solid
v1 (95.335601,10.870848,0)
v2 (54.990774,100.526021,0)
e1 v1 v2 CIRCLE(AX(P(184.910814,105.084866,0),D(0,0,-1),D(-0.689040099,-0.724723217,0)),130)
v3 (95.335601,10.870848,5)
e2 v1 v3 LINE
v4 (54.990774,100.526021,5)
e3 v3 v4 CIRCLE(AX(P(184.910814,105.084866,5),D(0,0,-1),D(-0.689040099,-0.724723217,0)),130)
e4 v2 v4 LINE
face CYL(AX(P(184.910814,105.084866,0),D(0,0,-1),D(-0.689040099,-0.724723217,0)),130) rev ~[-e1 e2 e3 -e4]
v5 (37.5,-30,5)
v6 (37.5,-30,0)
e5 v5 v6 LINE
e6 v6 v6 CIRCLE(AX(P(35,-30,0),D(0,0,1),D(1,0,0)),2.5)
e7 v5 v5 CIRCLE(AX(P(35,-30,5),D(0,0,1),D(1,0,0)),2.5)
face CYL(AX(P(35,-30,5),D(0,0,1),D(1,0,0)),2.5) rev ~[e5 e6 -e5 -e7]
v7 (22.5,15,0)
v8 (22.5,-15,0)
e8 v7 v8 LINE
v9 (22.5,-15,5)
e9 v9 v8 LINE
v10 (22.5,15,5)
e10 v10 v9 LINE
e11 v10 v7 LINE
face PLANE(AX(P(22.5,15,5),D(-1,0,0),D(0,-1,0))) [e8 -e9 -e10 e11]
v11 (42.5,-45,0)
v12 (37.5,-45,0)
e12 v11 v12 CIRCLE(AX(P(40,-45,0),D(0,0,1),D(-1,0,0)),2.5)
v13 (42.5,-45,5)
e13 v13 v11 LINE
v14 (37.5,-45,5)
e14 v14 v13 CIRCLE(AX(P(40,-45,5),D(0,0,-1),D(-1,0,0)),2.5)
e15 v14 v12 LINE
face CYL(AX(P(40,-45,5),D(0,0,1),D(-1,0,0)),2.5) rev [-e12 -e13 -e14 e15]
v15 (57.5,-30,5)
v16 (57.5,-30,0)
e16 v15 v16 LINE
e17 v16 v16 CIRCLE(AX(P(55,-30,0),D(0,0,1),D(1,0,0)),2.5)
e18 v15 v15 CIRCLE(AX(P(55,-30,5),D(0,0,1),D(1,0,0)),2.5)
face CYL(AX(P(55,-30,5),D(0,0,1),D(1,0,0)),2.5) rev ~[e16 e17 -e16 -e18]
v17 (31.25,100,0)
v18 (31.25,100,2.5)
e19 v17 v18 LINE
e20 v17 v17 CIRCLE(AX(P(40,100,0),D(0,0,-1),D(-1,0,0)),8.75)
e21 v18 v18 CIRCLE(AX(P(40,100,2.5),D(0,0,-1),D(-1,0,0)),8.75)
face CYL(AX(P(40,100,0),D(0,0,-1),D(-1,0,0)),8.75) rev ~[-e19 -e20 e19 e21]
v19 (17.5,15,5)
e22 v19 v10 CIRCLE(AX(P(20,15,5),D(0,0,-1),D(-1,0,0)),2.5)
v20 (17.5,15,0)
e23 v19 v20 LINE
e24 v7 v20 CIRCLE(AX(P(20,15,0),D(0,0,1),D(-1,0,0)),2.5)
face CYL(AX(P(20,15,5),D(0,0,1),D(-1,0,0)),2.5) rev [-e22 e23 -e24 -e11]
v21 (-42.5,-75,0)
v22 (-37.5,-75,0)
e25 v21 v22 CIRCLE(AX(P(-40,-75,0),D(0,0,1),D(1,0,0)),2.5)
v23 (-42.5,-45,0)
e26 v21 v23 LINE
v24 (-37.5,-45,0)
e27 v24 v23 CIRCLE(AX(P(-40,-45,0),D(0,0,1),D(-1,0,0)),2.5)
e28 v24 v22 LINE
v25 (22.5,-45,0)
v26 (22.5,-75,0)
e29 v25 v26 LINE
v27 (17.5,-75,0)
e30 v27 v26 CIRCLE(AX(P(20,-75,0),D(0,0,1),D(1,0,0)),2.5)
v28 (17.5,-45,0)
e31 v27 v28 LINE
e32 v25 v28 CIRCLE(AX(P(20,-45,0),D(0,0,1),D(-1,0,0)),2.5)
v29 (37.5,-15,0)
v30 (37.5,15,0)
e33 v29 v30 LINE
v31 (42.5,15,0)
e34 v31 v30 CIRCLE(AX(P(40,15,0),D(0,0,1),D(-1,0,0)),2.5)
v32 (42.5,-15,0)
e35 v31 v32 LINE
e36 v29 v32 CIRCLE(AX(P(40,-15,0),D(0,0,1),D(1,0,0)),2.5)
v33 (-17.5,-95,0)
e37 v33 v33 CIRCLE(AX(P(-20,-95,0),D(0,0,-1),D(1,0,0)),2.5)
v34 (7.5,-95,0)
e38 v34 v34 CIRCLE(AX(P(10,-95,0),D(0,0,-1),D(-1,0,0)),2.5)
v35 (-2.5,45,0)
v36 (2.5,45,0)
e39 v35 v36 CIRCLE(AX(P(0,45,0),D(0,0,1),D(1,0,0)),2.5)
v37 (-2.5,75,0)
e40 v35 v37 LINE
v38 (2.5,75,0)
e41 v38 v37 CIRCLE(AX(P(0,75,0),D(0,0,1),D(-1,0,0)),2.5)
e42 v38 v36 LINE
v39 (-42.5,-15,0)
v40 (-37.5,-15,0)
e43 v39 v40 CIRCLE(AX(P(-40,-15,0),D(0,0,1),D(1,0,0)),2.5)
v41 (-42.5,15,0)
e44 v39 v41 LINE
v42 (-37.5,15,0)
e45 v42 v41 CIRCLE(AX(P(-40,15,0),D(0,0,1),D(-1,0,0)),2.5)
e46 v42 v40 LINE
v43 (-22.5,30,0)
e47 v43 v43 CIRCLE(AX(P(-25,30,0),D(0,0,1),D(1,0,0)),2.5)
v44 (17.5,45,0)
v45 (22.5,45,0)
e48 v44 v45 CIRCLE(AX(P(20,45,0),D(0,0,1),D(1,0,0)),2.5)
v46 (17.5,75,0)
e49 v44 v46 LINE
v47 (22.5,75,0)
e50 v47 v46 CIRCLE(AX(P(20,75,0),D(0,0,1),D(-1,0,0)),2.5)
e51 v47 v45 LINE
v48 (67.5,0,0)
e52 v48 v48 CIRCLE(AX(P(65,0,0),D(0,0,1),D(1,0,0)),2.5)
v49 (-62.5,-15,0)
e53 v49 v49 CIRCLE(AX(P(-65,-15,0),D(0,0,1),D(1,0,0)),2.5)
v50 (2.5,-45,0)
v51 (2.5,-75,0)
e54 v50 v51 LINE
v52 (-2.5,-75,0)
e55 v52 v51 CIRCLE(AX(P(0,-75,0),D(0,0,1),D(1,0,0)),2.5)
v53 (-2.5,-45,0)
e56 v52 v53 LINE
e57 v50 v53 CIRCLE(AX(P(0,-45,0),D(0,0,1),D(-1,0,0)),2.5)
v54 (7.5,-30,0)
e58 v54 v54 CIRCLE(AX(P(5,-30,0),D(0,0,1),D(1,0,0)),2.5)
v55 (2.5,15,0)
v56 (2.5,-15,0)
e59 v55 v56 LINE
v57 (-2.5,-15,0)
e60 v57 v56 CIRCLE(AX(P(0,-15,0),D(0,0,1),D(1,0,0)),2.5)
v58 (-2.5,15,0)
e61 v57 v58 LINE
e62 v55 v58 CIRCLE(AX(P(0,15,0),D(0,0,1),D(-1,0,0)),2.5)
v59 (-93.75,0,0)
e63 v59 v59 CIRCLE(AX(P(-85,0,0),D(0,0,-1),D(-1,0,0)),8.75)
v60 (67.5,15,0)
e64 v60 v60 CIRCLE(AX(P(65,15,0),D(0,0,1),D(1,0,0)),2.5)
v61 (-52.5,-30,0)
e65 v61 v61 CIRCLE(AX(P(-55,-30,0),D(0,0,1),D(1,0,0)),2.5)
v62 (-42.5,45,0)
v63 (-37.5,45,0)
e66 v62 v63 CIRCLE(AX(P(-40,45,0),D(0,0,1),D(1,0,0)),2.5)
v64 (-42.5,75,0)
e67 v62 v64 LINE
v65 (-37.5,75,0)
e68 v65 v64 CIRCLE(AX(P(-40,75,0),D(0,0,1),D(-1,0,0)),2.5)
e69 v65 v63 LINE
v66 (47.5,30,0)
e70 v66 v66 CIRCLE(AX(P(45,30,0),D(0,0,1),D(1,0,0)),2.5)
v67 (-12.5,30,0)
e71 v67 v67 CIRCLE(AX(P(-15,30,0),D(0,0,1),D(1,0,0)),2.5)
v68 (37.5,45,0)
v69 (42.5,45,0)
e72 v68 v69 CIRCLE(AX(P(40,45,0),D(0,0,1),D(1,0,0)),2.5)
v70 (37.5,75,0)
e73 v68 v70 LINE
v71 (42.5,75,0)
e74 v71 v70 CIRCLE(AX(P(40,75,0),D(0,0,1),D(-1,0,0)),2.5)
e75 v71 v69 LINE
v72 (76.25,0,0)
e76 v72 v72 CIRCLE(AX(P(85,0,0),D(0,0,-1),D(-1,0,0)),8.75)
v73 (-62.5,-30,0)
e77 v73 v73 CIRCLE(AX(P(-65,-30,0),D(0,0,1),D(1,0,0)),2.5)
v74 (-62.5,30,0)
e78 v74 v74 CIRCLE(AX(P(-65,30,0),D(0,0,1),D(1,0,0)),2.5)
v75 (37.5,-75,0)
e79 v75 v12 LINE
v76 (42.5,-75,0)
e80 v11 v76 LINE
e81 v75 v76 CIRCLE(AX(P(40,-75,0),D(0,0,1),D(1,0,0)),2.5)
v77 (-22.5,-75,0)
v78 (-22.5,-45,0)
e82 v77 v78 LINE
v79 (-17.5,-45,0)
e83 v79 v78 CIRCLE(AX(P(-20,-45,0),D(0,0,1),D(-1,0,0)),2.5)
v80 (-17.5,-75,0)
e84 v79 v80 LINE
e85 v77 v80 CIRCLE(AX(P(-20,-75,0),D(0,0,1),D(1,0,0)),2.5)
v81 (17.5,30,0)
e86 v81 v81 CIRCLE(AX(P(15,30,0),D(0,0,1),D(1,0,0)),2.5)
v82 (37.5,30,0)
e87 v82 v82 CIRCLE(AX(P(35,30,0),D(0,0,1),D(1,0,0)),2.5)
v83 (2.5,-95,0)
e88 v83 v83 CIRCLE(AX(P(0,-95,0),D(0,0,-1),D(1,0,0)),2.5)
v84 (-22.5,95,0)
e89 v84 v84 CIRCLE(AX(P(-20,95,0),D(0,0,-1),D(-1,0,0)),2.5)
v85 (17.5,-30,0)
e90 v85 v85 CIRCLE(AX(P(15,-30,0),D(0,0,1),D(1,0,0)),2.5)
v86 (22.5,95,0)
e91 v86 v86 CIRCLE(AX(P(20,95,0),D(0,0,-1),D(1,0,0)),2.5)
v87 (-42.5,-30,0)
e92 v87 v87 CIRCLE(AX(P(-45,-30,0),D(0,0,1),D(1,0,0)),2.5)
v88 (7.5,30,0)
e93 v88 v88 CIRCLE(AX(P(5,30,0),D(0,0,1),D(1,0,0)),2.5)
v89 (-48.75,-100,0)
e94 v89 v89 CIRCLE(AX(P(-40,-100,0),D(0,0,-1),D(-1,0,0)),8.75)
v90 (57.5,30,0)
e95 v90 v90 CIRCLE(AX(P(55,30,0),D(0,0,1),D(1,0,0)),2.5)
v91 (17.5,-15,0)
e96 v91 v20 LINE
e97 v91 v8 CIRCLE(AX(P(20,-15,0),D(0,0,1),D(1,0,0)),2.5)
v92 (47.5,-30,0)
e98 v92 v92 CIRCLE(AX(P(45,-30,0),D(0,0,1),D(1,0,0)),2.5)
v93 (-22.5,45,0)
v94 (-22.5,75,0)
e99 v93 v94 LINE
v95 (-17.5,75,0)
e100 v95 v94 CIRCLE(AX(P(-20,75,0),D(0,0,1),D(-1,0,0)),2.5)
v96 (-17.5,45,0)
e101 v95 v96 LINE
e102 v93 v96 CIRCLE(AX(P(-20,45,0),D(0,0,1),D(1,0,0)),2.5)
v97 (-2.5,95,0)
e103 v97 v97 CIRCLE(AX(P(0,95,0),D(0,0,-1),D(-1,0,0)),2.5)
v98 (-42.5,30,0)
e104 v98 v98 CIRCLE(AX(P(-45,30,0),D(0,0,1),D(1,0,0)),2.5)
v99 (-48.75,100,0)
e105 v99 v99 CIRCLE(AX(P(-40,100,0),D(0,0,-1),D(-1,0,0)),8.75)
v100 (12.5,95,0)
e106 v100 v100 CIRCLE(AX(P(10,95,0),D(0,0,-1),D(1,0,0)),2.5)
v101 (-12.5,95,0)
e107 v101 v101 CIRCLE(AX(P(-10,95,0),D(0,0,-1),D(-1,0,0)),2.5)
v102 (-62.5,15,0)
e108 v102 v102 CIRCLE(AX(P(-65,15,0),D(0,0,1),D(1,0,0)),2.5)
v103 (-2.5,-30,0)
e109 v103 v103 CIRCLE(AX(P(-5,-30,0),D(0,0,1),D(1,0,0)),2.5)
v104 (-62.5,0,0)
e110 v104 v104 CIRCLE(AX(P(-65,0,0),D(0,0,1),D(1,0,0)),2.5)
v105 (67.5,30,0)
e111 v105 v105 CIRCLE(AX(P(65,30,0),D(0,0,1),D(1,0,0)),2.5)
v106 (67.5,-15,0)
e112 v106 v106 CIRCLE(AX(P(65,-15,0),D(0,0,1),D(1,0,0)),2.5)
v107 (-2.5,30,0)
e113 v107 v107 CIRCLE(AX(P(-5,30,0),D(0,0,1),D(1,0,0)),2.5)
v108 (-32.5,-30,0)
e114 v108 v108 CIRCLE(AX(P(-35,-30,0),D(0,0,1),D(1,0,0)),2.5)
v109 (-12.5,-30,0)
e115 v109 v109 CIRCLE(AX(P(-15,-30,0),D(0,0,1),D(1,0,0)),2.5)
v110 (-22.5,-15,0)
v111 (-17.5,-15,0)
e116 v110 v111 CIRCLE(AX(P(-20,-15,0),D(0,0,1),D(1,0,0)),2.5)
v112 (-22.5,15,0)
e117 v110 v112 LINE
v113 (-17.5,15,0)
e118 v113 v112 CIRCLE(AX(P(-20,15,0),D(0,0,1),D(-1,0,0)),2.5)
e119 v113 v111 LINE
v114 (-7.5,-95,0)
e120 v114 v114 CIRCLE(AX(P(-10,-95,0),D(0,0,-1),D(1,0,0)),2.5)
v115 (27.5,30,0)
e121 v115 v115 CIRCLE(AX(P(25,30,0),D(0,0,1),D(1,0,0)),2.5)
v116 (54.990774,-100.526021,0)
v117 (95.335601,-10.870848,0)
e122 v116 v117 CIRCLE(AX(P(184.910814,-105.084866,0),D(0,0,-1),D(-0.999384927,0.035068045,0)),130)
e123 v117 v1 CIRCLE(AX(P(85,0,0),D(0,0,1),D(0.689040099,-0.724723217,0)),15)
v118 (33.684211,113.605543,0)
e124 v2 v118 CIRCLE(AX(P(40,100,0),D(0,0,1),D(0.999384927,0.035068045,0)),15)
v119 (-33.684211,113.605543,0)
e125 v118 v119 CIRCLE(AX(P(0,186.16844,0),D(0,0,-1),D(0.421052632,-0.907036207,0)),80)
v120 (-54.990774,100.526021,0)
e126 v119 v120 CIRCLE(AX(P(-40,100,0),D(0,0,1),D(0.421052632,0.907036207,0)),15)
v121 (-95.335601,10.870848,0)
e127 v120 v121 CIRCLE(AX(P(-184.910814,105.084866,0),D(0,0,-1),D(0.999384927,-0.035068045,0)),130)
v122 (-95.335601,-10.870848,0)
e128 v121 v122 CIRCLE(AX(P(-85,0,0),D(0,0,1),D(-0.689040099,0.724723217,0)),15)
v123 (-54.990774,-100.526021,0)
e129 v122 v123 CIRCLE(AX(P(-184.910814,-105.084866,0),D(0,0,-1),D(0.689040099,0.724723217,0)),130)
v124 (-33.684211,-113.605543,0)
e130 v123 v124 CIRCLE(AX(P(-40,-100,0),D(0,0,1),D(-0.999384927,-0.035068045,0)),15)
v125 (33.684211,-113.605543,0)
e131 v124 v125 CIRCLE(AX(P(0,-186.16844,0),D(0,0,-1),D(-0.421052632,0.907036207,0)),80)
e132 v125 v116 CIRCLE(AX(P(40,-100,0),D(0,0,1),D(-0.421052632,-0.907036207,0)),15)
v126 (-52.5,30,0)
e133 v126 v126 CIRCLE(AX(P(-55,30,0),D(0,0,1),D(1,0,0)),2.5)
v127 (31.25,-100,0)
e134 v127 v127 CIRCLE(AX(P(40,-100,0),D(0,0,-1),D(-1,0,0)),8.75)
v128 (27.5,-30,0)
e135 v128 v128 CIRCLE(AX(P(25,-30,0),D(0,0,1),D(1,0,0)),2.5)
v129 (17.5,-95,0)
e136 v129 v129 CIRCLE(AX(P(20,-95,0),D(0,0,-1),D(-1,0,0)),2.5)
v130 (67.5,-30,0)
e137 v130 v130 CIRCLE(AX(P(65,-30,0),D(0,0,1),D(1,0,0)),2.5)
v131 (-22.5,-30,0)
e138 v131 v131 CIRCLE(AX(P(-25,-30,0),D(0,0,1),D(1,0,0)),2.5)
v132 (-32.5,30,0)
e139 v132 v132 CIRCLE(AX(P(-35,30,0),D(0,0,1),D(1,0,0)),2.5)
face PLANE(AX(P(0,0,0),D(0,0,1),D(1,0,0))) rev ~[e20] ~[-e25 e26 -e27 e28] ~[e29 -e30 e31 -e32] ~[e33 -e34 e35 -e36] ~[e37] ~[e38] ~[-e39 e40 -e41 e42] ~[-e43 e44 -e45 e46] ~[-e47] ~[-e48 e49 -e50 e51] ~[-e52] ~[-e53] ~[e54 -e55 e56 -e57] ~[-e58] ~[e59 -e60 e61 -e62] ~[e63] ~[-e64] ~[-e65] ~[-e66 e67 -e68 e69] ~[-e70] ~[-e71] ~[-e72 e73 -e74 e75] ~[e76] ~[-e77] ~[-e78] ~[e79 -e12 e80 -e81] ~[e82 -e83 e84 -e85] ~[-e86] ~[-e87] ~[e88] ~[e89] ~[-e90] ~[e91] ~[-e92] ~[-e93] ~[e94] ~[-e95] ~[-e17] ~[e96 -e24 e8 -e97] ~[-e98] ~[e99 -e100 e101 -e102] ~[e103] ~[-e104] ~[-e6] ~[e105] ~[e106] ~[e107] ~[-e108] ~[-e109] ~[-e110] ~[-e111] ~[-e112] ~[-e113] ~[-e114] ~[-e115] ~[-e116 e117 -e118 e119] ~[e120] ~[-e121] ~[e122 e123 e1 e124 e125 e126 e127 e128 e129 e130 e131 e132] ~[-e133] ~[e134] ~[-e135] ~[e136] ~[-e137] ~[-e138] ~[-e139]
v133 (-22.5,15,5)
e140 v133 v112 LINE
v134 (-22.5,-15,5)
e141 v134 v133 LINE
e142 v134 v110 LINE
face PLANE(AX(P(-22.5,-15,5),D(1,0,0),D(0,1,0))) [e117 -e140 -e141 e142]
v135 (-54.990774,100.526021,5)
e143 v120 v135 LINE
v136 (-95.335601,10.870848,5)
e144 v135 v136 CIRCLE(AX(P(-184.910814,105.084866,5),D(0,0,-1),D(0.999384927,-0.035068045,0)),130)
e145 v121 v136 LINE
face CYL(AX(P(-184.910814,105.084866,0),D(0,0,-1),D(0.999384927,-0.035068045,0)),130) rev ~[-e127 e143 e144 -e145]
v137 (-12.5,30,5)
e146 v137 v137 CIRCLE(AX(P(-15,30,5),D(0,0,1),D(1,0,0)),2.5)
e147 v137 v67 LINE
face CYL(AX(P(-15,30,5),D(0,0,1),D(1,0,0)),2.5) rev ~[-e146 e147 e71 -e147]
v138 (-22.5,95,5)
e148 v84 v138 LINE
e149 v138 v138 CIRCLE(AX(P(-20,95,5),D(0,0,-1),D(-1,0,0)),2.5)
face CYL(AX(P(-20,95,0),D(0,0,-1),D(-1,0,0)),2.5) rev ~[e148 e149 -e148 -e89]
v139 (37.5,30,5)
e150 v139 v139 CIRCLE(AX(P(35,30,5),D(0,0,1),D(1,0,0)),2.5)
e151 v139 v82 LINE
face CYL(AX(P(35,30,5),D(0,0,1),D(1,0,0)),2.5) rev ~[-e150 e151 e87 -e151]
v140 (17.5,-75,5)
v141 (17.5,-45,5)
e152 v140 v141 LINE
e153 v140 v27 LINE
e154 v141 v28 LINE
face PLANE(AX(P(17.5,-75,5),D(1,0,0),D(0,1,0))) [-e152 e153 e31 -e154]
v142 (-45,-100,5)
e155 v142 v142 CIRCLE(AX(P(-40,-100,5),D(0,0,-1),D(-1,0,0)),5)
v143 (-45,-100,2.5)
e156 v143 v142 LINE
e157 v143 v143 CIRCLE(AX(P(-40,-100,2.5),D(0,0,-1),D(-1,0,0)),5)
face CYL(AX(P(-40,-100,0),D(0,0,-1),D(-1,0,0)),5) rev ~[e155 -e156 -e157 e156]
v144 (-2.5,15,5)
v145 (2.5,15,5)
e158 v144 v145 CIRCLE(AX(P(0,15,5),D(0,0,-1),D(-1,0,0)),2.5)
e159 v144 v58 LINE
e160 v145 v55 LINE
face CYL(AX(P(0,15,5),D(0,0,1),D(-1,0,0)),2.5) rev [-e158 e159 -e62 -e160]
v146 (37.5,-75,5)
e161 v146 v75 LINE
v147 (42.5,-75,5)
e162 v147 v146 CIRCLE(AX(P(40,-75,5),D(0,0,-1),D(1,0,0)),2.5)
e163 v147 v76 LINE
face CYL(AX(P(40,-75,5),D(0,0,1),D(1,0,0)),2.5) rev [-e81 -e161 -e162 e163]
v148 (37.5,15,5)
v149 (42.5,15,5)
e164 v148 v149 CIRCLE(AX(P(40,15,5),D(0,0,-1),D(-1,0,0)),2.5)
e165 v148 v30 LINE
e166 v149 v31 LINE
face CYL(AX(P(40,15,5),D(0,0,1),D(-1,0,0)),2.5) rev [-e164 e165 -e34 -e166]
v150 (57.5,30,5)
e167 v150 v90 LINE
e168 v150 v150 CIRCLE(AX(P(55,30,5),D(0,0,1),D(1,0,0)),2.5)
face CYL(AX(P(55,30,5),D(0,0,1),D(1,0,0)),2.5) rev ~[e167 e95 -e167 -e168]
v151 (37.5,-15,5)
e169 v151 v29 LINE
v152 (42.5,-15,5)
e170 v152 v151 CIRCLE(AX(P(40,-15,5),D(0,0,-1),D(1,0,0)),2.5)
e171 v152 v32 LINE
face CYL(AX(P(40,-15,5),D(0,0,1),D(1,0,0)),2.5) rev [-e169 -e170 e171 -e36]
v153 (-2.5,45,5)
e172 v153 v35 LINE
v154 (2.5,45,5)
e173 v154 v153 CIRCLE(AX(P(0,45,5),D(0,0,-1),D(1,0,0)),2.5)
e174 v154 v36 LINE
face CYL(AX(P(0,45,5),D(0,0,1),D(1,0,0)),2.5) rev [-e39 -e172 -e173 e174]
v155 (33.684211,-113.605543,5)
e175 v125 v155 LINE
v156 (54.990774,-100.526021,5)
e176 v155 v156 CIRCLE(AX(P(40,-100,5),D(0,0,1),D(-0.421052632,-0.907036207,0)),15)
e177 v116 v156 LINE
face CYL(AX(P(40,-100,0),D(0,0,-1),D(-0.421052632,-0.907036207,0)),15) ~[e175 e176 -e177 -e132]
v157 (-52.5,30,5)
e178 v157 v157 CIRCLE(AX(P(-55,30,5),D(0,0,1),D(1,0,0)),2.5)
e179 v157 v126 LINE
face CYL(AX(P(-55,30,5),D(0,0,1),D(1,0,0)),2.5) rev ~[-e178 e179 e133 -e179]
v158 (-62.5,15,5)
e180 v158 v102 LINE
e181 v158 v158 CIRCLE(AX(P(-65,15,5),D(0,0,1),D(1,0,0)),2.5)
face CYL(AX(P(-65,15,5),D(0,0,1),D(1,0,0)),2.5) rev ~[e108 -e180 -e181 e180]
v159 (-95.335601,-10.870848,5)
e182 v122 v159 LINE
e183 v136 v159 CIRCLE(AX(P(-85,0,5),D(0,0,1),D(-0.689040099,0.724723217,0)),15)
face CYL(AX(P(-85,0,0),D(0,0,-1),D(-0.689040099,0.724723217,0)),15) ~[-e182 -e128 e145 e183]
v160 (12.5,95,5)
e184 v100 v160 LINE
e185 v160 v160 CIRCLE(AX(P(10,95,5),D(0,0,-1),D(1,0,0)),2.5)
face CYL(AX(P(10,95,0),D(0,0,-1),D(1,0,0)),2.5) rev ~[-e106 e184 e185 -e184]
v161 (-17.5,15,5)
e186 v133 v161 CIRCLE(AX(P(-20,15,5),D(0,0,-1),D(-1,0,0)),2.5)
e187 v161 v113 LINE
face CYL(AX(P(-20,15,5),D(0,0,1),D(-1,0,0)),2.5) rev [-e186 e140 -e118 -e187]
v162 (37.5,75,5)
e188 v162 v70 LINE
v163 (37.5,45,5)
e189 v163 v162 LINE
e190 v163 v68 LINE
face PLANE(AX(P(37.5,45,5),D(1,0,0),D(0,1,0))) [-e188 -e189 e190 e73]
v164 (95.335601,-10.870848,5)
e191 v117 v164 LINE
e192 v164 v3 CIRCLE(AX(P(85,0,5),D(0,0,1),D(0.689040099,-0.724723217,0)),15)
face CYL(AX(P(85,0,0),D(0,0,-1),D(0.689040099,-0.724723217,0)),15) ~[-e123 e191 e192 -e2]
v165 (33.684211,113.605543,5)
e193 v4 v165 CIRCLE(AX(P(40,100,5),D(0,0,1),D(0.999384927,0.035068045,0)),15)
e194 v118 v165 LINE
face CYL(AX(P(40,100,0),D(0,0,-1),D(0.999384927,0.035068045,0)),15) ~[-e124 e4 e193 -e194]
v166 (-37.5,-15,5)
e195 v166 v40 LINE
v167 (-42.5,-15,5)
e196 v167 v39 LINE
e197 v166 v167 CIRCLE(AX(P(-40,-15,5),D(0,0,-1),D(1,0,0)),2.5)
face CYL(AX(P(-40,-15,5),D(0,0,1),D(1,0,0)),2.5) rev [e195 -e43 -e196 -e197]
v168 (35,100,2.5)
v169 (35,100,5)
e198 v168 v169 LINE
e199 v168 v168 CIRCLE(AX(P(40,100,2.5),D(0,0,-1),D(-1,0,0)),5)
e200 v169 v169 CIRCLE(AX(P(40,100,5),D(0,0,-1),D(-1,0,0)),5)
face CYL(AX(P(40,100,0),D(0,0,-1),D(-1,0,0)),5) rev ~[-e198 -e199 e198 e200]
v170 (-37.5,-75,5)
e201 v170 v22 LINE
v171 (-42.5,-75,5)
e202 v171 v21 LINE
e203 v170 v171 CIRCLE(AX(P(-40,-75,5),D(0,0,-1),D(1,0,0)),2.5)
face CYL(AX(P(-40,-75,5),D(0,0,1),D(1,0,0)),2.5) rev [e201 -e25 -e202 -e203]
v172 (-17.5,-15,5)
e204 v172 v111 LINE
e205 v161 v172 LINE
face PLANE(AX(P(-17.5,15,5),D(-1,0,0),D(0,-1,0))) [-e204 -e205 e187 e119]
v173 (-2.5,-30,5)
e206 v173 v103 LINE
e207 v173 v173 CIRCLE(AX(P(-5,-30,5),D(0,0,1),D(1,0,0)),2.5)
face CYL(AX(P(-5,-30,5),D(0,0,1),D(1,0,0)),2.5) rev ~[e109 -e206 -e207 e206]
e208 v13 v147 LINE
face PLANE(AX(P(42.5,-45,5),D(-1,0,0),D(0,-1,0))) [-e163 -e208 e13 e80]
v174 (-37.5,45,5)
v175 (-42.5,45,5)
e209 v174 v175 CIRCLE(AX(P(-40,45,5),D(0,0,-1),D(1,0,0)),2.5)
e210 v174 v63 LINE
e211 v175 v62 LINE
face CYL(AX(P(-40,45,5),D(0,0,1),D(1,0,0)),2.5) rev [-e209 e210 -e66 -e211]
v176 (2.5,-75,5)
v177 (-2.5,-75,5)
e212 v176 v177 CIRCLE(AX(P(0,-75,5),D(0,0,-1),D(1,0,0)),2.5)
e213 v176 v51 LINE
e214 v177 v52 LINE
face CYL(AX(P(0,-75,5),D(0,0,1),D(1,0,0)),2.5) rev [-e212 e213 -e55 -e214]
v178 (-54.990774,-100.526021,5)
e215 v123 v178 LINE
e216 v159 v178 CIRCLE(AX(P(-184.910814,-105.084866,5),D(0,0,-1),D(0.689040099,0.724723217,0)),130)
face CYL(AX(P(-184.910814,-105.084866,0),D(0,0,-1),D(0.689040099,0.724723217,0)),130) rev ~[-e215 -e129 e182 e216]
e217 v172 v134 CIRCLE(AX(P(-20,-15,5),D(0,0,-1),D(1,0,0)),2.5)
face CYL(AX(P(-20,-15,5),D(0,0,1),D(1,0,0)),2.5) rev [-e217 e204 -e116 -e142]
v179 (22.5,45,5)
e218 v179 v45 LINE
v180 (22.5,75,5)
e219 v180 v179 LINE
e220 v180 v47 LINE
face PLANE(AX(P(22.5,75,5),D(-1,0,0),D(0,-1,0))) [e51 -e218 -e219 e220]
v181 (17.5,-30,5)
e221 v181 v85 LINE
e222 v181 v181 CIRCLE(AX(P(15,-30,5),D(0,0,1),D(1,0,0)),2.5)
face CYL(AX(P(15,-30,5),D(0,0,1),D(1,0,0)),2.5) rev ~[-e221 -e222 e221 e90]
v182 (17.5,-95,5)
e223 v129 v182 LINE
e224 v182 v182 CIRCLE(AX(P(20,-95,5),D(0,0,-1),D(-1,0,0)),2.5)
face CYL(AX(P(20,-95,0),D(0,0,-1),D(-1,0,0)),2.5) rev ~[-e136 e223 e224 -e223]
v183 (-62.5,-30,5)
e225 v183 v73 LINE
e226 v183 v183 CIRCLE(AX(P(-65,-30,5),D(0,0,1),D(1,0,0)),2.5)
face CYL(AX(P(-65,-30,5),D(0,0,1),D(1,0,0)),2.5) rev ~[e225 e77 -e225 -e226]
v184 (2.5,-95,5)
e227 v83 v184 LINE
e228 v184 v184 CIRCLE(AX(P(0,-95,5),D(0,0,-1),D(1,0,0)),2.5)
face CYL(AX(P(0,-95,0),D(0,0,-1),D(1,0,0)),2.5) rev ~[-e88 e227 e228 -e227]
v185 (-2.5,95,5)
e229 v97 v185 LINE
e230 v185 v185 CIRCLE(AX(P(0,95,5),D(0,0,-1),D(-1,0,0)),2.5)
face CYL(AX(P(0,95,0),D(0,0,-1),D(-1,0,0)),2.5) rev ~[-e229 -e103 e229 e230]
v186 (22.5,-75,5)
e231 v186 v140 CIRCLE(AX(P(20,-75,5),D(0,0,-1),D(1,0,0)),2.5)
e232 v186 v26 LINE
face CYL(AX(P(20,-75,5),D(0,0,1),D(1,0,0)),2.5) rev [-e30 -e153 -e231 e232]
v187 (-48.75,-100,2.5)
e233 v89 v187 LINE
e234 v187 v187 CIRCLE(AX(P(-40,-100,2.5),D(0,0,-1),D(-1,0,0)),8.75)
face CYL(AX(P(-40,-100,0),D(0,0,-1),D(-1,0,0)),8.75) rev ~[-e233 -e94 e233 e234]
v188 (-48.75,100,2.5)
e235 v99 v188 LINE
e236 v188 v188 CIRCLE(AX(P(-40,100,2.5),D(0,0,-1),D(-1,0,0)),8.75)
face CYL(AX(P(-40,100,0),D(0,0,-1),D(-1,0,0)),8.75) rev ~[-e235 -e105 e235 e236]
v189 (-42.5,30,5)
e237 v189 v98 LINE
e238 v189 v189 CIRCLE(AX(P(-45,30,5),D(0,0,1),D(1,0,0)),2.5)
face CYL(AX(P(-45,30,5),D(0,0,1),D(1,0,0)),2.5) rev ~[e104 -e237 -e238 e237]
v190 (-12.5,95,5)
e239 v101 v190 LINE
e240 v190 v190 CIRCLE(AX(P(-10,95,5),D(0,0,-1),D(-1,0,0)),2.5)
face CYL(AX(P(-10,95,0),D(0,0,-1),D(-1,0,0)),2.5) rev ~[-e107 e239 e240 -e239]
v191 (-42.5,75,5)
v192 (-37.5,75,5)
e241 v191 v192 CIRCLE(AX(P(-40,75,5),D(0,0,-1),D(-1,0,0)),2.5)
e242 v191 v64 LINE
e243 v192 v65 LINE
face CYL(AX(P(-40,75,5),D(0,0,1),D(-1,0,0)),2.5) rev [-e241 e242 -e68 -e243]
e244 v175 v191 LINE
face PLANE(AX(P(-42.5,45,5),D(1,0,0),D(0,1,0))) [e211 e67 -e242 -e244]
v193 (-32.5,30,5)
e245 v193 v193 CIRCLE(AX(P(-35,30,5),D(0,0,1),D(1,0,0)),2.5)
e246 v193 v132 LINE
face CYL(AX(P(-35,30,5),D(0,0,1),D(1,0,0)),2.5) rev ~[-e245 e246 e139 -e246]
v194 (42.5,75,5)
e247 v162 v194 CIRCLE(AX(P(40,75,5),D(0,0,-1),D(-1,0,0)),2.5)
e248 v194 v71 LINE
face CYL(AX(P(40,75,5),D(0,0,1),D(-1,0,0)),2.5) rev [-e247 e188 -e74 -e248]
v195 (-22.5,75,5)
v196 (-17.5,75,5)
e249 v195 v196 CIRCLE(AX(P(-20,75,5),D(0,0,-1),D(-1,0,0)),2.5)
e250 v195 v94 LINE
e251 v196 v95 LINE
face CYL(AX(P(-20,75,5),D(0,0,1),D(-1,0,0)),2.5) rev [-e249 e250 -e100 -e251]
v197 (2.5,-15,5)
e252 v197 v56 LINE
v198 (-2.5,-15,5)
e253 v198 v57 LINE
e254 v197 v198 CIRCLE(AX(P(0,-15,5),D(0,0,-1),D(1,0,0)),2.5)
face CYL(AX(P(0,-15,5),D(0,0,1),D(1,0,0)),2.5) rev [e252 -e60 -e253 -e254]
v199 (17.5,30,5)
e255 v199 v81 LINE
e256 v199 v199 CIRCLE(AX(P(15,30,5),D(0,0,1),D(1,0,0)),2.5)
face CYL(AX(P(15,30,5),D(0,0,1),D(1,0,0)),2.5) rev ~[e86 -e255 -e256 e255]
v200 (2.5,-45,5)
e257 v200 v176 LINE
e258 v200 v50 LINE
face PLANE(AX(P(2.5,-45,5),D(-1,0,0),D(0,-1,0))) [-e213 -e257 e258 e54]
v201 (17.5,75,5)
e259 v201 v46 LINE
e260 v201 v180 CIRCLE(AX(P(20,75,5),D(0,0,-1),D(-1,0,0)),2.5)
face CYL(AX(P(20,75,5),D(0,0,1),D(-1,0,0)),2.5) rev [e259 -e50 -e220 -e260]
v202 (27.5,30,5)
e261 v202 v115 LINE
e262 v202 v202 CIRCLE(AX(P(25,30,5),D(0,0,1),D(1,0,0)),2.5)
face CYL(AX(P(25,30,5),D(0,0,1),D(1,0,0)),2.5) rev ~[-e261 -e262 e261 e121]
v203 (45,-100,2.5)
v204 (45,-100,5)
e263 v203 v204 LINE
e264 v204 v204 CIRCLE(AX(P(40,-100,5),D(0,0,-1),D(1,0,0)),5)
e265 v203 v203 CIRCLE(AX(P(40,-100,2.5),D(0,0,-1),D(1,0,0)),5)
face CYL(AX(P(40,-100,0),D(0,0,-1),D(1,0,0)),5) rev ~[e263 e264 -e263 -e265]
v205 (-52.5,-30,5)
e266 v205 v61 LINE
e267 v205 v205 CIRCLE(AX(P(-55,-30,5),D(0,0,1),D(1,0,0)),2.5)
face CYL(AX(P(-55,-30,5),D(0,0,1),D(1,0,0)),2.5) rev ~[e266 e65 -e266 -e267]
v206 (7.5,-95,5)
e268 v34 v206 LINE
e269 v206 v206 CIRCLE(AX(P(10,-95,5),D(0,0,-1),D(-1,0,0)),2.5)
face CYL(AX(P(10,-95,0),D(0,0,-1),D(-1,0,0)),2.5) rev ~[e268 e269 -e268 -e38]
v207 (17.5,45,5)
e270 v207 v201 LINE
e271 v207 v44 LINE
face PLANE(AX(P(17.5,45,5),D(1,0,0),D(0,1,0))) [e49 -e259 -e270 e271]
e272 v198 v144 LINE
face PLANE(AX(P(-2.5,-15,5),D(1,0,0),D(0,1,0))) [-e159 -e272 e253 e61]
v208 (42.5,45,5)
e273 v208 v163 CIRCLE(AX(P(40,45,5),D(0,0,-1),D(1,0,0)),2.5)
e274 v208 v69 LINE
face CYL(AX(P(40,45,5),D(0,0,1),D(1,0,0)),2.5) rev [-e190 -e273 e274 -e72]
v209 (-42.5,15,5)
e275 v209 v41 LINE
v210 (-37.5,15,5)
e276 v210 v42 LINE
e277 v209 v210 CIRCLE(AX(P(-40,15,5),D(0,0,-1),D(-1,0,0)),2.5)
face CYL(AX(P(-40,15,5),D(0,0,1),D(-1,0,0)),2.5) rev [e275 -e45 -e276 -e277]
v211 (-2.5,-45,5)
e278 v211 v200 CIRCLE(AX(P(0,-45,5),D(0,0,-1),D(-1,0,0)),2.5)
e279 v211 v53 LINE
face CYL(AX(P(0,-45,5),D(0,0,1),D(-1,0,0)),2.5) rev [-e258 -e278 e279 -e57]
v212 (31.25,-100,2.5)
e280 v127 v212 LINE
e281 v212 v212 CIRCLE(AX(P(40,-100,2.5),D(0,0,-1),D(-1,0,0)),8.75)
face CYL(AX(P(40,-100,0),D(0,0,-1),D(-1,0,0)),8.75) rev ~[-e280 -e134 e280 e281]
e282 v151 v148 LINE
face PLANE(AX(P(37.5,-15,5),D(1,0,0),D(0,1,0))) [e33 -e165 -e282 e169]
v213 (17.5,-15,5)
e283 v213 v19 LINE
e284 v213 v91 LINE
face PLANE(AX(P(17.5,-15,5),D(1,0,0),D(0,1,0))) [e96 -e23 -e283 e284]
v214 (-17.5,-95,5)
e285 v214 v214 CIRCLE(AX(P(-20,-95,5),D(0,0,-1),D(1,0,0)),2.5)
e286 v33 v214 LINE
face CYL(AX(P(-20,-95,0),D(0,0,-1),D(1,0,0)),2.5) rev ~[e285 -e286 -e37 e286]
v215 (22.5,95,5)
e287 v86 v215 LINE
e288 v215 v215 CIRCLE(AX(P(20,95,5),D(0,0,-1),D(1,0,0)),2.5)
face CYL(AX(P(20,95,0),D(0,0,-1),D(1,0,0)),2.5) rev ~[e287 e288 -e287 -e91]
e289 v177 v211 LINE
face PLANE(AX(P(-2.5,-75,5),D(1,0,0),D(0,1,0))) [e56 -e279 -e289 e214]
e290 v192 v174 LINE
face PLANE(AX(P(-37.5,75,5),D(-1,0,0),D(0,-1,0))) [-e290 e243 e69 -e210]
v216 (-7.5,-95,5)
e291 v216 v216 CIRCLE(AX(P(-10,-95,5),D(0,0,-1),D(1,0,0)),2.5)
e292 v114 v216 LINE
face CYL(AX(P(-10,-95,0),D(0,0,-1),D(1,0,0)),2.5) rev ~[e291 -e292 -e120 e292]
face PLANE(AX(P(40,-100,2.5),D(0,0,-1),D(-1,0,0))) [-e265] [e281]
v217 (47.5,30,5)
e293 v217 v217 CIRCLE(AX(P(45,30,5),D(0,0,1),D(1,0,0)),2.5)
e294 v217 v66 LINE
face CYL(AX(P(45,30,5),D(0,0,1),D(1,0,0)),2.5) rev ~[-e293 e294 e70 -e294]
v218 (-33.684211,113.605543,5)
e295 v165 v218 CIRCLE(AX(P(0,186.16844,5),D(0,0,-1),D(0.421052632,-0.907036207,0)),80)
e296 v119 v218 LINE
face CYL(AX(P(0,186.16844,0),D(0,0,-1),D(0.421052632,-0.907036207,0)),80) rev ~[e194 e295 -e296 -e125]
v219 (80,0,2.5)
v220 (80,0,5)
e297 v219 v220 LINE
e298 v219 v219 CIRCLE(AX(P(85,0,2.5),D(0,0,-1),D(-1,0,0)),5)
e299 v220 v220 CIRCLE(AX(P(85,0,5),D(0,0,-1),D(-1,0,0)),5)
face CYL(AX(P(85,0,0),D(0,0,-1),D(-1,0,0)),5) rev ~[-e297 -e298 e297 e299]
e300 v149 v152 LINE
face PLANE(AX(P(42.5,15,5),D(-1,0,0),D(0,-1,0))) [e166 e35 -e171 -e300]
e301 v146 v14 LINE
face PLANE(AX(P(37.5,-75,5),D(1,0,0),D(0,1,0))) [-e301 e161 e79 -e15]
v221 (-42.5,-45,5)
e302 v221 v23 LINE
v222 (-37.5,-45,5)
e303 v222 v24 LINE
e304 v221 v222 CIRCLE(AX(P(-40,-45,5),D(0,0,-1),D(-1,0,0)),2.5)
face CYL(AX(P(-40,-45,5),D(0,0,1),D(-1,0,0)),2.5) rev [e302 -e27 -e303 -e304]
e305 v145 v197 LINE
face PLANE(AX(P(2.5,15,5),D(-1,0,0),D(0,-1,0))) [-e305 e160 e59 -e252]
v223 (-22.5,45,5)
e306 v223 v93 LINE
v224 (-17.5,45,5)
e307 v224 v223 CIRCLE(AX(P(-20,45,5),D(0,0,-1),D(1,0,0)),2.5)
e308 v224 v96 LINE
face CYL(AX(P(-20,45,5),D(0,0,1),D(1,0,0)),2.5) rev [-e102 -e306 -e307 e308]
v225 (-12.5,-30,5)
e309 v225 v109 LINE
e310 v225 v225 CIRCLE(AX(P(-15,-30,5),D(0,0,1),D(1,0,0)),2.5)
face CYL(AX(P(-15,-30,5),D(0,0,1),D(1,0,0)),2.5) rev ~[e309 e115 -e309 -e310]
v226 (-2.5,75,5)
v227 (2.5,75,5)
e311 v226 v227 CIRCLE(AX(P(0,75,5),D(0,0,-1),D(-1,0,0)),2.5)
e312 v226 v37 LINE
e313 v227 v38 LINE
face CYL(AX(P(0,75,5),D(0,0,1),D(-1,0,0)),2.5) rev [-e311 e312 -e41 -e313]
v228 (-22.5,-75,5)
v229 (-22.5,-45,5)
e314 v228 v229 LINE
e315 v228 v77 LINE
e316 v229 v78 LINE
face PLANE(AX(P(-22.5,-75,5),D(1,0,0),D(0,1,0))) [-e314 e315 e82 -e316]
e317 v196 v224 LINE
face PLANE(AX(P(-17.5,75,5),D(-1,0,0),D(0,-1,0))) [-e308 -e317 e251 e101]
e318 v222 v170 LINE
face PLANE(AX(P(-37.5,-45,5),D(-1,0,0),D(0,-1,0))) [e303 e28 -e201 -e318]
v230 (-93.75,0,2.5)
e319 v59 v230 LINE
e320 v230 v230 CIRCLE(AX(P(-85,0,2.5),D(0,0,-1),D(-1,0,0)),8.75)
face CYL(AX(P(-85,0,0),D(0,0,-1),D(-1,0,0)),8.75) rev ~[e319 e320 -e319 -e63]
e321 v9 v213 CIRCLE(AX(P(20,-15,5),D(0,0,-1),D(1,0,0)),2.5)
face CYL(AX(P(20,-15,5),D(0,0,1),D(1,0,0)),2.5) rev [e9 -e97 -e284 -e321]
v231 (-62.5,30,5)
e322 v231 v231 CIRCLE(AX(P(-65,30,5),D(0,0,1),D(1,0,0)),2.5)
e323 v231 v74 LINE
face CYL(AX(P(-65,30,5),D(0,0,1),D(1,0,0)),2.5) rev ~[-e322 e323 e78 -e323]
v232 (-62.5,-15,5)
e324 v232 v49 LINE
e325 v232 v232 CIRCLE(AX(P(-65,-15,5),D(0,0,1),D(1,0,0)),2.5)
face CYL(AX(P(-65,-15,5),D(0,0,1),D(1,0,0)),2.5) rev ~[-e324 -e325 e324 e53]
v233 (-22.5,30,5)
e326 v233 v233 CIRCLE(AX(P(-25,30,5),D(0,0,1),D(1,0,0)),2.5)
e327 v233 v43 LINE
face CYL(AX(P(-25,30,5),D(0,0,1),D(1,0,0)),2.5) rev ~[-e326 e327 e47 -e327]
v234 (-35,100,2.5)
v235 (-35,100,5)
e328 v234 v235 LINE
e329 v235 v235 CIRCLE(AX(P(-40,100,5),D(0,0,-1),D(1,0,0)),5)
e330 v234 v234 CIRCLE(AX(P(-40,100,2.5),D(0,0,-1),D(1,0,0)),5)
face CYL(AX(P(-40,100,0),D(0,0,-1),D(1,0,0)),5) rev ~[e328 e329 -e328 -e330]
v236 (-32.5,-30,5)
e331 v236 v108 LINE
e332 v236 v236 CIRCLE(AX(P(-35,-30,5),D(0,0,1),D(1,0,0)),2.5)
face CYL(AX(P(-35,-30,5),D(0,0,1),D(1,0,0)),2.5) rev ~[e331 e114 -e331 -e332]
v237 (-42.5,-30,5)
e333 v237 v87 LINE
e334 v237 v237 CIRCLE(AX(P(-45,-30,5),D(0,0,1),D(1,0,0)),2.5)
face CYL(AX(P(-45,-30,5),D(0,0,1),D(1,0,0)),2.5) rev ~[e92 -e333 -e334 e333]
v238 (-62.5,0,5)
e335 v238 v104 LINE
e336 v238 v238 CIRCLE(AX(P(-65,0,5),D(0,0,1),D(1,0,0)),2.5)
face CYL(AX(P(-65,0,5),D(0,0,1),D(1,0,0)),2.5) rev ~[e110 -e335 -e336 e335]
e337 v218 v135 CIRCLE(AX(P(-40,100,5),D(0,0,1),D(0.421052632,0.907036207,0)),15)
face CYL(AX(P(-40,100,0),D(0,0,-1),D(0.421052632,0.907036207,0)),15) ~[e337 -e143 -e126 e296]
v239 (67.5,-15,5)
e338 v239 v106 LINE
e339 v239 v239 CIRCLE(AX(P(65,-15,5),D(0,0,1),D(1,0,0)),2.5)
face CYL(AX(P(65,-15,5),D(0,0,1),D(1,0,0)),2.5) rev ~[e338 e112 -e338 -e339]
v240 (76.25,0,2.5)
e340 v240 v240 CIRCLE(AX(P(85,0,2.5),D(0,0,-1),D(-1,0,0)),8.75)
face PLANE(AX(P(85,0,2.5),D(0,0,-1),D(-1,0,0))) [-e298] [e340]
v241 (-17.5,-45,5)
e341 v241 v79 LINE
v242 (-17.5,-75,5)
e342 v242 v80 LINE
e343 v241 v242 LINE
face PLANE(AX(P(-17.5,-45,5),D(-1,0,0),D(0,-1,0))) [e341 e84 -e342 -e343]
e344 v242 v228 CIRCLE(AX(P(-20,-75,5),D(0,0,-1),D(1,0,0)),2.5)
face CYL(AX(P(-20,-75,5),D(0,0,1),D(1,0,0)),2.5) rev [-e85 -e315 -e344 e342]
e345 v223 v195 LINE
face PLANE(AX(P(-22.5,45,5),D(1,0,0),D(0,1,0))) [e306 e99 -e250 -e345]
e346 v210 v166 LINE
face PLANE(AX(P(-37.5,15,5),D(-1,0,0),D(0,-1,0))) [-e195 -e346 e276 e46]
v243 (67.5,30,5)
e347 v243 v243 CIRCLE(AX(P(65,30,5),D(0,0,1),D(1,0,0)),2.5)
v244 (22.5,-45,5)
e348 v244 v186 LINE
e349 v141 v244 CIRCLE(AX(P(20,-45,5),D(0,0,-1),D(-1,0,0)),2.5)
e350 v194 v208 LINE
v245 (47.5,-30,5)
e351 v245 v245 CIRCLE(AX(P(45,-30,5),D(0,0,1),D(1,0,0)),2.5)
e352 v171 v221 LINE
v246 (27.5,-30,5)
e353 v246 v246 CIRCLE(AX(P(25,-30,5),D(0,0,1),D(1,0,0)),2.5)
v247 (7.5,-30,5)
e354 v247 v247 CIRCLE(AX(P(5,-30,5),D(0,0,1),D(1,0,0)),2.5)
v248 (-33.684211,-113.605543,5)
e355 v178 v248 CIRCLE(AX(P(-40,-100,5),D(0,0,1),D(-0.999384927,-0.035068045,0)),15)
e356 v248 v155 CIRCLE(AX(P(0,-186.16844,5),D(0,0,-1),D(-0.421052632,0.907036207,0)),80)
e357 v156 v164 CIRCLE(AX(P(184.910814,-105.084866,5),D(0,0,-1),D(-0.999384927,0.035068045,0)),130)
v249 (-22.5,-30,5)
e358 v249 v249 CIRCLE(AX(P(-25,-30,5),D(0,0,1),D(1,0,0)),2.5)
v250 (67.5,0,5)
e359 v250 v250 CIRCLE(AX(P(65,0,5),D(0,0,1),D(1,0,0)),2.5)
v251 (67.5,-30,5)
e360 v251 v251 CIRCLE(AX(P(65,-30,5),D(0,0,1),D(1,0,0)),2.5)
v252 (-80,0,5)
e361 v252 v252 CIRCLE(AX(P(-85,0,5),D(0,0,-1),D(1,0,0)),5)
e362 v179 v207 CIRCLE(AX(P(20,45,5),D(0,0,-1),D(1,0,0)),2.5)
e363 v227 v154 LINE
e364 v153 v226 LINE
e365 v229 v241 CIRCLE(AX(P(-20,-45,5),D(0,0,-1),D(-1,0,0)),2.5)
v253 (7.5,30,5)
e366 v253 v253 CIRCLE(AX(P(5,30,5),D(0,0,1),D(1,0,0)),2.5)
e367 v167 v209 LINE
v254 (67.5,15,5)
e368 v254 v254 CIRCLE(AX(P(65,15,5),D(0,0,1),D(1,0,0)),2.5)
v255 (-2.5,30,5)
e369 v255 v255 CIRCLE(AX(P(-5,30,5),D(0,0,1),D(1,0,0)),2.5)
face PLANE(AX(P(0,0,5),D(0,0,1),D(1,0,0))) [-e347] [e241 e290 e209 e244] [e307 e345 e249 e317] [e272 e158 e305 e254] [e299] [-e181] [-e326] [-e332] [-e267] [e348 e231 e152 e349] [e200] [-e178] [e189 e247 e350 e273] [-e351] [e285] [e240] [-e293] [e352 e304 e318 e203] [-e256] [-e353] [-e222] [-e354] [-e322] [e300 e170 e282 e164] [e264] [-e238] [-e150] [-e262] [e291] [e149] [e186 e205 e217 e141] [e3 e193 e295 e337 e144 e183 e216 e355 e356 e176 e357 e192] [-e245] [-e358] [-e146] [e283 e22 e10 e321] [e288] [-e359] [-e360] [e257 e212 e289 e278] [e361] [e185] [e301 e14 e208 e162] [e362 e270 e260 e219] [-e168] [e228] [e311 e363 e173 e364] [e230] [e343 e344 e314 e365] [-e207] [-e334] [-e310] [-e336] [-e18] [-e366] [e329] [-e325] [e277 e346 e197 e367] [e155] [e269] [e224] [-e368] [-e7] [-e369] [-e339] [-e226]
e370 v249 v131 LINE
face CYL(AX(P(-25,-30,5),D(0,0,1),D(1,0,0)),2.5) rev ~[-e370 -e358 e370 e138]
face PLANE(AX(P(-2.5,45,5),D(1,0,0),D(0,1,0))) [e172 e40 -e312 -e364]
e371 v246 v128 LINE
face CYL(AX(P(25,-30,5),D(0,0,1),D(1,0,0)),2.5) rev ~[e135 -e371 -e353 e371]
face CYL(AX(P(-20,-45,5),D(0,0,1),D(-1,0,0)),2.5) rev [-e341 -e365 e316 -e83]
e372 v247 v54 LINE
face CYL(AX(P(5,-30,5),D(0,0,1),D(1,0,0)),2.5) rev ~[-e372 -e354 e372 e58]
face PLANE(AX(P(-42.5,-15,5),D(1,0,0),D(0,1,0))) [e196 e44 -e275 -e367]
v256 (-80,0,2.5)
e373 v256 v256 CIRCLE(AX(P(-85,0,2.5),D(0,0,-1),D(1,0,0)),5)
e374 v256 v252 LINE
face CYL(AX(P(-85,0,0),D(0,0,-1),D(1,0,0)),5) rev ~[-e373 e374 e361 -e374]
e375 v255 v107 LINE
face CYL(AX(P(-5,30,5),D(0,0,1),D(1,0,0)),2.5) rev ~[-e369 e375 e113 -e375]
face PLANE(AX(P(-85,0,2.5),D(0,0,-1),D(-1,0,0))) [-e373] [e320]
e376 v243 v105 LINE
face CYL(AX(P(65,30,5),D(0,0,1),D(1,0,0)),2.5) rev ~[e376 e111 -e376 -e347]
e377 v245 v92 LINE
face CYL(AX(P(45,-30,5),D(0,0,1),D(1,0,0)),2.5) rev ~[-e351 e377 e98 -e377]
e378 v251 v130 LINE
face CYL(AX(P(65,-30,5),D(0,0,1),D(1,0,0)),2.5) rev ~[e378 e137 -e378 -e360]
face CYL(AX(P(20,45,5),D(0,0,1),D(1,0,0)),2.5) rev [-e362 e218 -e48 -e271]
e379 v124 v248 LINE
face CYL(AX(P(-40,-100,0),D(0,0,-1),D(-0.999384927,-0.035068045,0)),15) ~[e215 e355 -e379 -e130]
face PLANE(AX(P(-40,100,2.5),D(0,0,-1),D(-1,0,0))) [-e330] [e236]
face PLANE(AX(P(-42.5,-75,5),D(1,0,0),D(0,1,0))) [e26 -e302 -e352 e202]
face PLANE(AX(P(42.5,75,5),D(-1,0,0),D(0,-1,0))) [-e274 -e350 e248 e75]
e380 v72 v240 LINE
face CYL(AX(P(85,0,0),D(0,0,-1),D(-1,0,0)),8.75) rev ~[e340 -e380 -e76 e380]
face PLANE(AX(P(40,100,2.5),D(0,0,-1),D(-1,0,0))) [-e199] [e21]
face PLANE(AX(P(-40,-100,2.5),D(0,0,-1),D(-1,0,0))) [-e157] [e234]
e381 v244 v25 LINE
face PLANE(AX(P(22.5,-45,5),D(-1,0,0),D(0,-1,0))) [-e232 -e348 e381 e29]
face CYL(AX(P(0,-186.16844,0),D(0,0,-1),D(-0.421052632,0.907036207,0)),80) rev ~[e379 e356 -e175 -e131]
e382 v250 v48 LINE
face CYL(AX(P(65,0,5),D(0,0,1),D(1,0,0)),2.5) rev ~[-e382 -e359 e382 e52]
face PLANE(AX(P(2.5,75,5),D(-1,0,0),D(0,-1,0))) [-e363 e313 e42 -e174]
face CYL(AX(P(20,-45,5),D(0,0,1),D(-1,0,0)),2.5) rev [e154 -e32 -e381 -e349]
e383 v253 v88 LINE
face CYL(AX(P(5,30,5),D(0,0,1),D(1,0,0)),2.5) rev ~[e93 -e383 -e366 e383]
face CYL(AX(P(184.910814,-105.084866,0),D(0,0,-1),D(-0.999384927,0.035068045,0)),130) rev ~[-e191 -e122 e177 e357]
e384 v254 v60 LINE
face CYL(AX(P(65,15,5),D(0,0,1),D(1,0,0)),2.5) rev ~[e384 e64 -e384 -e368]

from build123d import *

# Parameters (mm, degrees)
BOSS_EXTRUDE1_DEPTH = 5
SKETCH2_R           = 5
CUT_EXTRUDE1_DEPTH  = 153.47950682
SKETCH5_R           = 2.5
CUT_EXTRUDE4_DEPTH  = 12.5
CUT_EXTRUDE5_DEPTH  = 10
SKETCH7_R           = 2.5
CUT_EXTRUDE6_DEPTH  = 10
SKETCH8_R           = 2.5
CUT_EXTRUDE7_DEPTH  = 10
SKETCH9_R           = 8.75
CUT_EXTRUDE8_DEPTH  = 2.5


with BuildPart() as part:
    # Sketch1 → Boss-Extrude1 (new body)
    with BuildSketch(Plane.XY):
        with BuildLine():
            ThreePointArc((95.335601491, -10.870848257), (100, 0), (95.335601491, 10.870848257))
            ThreePointArc((95.335601491, 10.870848257), (66.361018737, 51.737458432), (54.990773904, 100.526020671))
            ThreePointArc((54.990773904, 100.526020671), (47.847440062, 112.783492655), (33.684210526, 113.60554311))
            ThreePointArc((33.684210526, 113.60554311), (0, 106.168439698), (-33.684210526, 113.60554311))
            ThreePointArc((-33.684210526, 113.60554311), (-47.847440062, 112.783492655), (-54.990773904, 100.526020671))
            ThreePointArc((-54.990773904, 100.526020671), (-66.361018737, 51.737458432), (-95.335601491, 10.870848257))
            ThreePointArc((-95.335601491, 10.870848257), (-100, 0), (-95.335601491, -10.870848257))
            ThreePointArc((-95.335601491, -10.870848257), (-66.361018737, -51.737458432), (-54.990773904, -100.526020671))
            ThreePointArc((-54.990773904, -100.526020671), (-47.847440062, -112.783492655), (-33.684210526, -113.60554311))
            ThreePointArc((-33.684210526, -113.60554311), (0, -106.168439698), (33.684210526, -113.60554311))
            ThreePointArc((33.684210526, -113.60554311), (47.847440062, -112.783492655), (54.990773904, -100.526020671))
            ThreePointArc((54.990773904, -100.526020671), (66.361018737, -51.737458432), (95.335601491, -10.870848257))
        make_face()
    extrude(amount=BOSS_EXTRUDE1_DEPTH)

    # Sketch2 → Cut-Extrude1 (cut, through all)
    with BuildSketch(Plane(origin=(0, 0, 0), x_dir=(-1, 0, 0), z_dir=(0, 0, -1))):
        with Locations((-40, 100)):
            Circle(SKETCH2_R)
        with Locations((-85, 0)):
            Circle(SKETCH2_R)
        with Locations(Location((85, 0, 0), (0, 0, 180))):
            Circle(SKETCH2_R)
        with Locations(Location((40, 100, 0), (0, 0, 180))):
            Circle(SKETCH2_R)
        with Locations((40, -100)):
            Circle(SKETCH2_R)
        with Locations(Location((-40, -100, 0), (0, 0, 180))):
            Circle(SKETCH2_R)
    extrude(amount=-CUT_EXTRUDE1_DEPTH, mode=Mode.SUBTRACT)

    # Sketch5 → Cut-Extrude4 (cut)
    with BuildSketch(Plane(origin=(0, 0, 0), x_dir=(-1, 0, 0), z_dir=(0, 0, -1))):
        with Locations((20, 95)):
            Circle(SKETCH5_R)
        with Locations((0, 95)):
            Circle(SKETCH5_R)
        with Locations((10, 95)):
            Circle(SKETCH5_R)
        with Locations(Location((10, -95, 0), (0, 0, 180))):
            Circle(SKETCH5_R)
        with Locations(Location((0, -95, 0), (0, 0, 180))):
            Circle(SKETCH5_R)
        with Locations(Location((20, -95, 0), (0, 0, 180))):
            Circle(SKETCH5_R)
        with Locations(Location((-20, 95, 0), (0, 0, 180))):
            Circle(SKETCH5_R)
        with Locations(Location((-10, 95, 0), (0, 0, 180))):
            Circle(SKETCH5_R)
        with Locations((-20, -95)):
            Circle(SKETCH5_R)
        with Locations((-10, -95)):
            Circle(SKETCH5_R)
    extrude(amount=-CUT_EXTRUDE4_DEPTH, mode=Mode.SUBTRACT)

    # Sketch6 → Cut-Extrude5 (cut)
    with BuildSketch(Plane.XY.offset(5)):
        with BuildLine():
            Line((42.5, 75), (42.5, 45))
            ThreePointArc((42.5, 45), (40, 42.5), (37.5, 45))
            Line((37.5, 45), (37.5, 75))
            ThreePointArc((37.5, 75), (40, 77.5), (42.5, 75))
        make_face()
        with BuildLine():
            Line((22.5, 75), (22.5, 45))
            ThreePointArc((22.5, 45), (20, 42.5), (17.5, 45))
            Line((17.5, 45), (17.5, 75))
            ThreePointArc((17.5, 75), (20, 77.5), (22.5, 75))
        make_face()
        with BuildLine():
            Line((2.5, 75), (2.5, 45))
            ThreePointArc((2.5, 45), (0, 42.5), (-2.5, 45))
            Line((-2.5, 45), (-2.5, 75))
            ThreePointArc((-2.5, 75), (0, 77.5), (2.5, 75))
        make_face()
        with BuildLine():
            Line((-17.5, 75), (-17.5, 45))
            ThreePointArc((-17.5, 45), (-20, 42.5), (-22.5, 45))
            Line((-22.5, 45), (-22.5, 75))
            ThreePointArc((-22.5, 75), (-20, 77.5), (-17.5, 75))
        make_face()
        with BuildLine():
            Line((-37.5, 75), (-37.5, 45))
            ThreePointArc((-37.5, 45), (-40, 42.5), (-42.5, 45))
            Line((-42.5, 45), (-42.5, 75))
            ThreePointArc((-42.5, 75), (-40, 77.5), (-37.5, 75))
        make_face()
        with BuildLine():
            Line((42.5, 15), (42.5, -15))
            ThreePointArc((42.5, -15), (40, -17.5), (37.5, -15))
            Line((37.5, -15), (37.5, 15))
            ThreePointArc((37.5, 15), (40, 17.5), (42.5, 15))
        make_face()
        with BuildLine():
            Line((22.5, 15), (22.5, -15))
            ThreePointArc((22.5, -15), (20, -17.5), (17.5, -15))
            Line((17.5, -15), (17.5, 15))
            ThreePointArc((17.5, 15), (20, 17.5), (22.5, 15))
        make_face()
        with BuildLine():
            Line((2.5, 15), (2.5, -15))
            ThreePointArc((2.5, -15), (0, -17.5), (-2.5, -15))
            Line((-2.5, -15), (-2.5, 15))
            ThreePointArc((-2.5, 15), (0, 17.5), (2.5, 15))
        make_face()
        with BuildLine():
            Line((-17.5, 15), (-17.5, -15))
            ThreePointArc((-17.5, -15), (-20, -17.5), (-22.5, -15))
            Line((-22.5, -15), (-22.5, 15))
            ThreePointArc((-22.5, 15), (-20, 17.5), (-17.5, 15))
        make_face()
        with BuildLine():
            Line((-37.5, 15), (-37.5, -15))
            ThreePointArc((-37.5, -15), (-40, -17.5), (-42.5, -15))
            Line((-42.5, -15), (-42.5, 15))
            ThreePointArc((-42.5, 15), (-40, 17.5), (-37.5, 15))
        make_face()
        with BuildLine():
            Line((42.5, -45), (42.5, -75))
            ThreePointArc((42.5, -75), (40, -77.5), (37.5, -75))
            Line((37.5, -75), (37.5, -45))
            ThreePointArc((37.5, -45), (40, -42.5), (42.5, -45))
        make_face()
        with BuildLine():
            Line((22.5, -45), (22.5, -75))
            ThreePointArc((22.5, -75), (20, -77.5), (17.5, -75))
            Line((17.5, -75), (17.5, -45))
            ThreePointArc((17.5, -45), (20, -42.5), (22.5, -45))
        make_face()
        with BuildLine():
            Line((2.5, -45), (2.5, -75))
            ThreePointArc((2.5, -75), (0, -77.5), (-2.5, -75))
            Line((-2.5, -75), (-2.5, -45))
            ThreePointArc((-2.5, -45), (0, -42.5), (2.5, -45))
        make_face()
        with BuildLine():
            Line((-17.5, -45), (-17.5, -75))
            ThreePointArc((-17.5, -75), (-20, -77.5), (-22.5, -75))
            Line((-22.5, -75), (-22.5, -45))
            ThreePointArc((-22.5, -45), (-20, -42.5), (-17.5, -45))
        make_face()
        with BuildLine():
            Line((-37.5, -45), (-37.5, -75))
            ThreePointArc((-37.5, -75), (-40, -77.5), (-42.5, -75))
            Line((-42.5, -75), (-42.5, -45))
            ThreePointArc((-42.5, -45), (-40, -42.5), (-37.5, -45))
        make_face()
    extrude(amount=-CUT_EXTRUDE5_DEPTH, mode=Mode.SUBTRACT)

    # Sketch7 → Cut-Extrude6 (cut)
    with BuildSketch(Plane.XY.offset(5)):
        with Locations((-65, 30)):
            Circle(SKETCH7_R)
        with Locations((-55, 30)):
            Circle(SKETCH7_R)
        with Locations((-45, 30)):
            Circle(SKETCH7_R)
        with Locations((-35, 30)):
            Circle(SKETCH7_R)
        with Locations((-25, 30)):
            Circle(SKETCH7_R)
        with Locations((-15, 30)):
            Circle(SKETCH7_R)
        with Locations((-5, 30)):
            Circle(SKETCH7_R)
        with Locations((5, 30)):
            Circle(SKETCH7_R)
        with Locations((15, 30)):
            Circle(SKETCH7_R)
        with Locations((25, 30)):
            Circle(SKETCH7_R)
        with Locations((35, 30)):
            Circle(SKETCH7_R)
        with Locations((45, 30)):
            Circle(SKETCH7_R)
        with Locations((55, 30)):
            Circle(SKETCH7_R)
        with Locations((65, 30)):
            Circle(SKETCH7_R)
        with Locations((65, -30)):
            Circle(SKETCH7_R)
        with Locations((55, -30)):
            Circle(SKETCH7_R)
        with Locations((45, -30)):
            Circle(SKETCH7_R)
        with Locations((35, -30)):
            Circle(SKETCH7_R)
        with Locations((25, -30)):
            Circle(SKETCH7_R)
        with Locations((15, -30)):
            Circle(SKETCH7_R)
        with Locations((5, -30)):
            Circle(SKETCH7_R)
        with Locations((-5, -30)):
            Circle(SKETCH7_R)
        with Locations((-15, -30)):
            Circle(SKETCH7_R)
        with Locations((-25, -30)):
            Circle(SKETCH7_R)
        with Locations((-35, -30)):
            Circle(SKETCH7_R)
        with Locations((-45, -30)):
            Circle(SKETCH7_R)
        with Locations((-55, -30)):
            Circle(SKETCH7_R)
        with Locations((-65, -30)):
            Circle(SKETCH7_R)
    extrude(amount=-CUT_EXTRUDE6_DEPTH, mode=Mode.SUBTRACT)

    # Sketch8 → Cut-Extrude7 (cut)
    with BuildSketch(Plane.XY.offset(5)):
        with Locations((-65, 0)):
            Circle(SKETCH8_R)
        with Locations((-65, 15)):
            Circle(SKETCH8_R)
        with Locations((-65, -15)):
            Circle(SKETCH8_R)
        with Locations((65, -15)):
            Circle(SKETCH8_R)
        with Locations((65, 0)):
            Circle(SKETCH8_R)
        with Locations((65, 15)):
            Circle(SKETCH8_R)
    extrude(amount=-CUT_EXTRUDE7_DEPTH, mode=Mode.SUBTRACT)

    # Sketch9 → Cut-Extrude8 (cut)
    with BuildSketch(Plane(origin=(0, 0, 0), x_dir=(-1, 0, 0), z_dir=(0, 0, -1))):
        with Locations((85, 0)):
            Circle(SKETCH9_R)
        with Locations((40, 100)):
            Circle(SKETCH9_R)
        with Locations((40, -100)):
            Circle(SKETCH9_R)
        with Locations((-40, -100)):
            Circle(SKETCH9_R)
        with Locations((-85, 0)):
            Circle(SKETCH9_R)
        with Locations((-40, 100)):
            Circle(SKETCH9_R)
    extrude(amount=-CUT_EXTRUDE8_DEPTH, mode=Mode.SUBTRACT)


solid = part.part
